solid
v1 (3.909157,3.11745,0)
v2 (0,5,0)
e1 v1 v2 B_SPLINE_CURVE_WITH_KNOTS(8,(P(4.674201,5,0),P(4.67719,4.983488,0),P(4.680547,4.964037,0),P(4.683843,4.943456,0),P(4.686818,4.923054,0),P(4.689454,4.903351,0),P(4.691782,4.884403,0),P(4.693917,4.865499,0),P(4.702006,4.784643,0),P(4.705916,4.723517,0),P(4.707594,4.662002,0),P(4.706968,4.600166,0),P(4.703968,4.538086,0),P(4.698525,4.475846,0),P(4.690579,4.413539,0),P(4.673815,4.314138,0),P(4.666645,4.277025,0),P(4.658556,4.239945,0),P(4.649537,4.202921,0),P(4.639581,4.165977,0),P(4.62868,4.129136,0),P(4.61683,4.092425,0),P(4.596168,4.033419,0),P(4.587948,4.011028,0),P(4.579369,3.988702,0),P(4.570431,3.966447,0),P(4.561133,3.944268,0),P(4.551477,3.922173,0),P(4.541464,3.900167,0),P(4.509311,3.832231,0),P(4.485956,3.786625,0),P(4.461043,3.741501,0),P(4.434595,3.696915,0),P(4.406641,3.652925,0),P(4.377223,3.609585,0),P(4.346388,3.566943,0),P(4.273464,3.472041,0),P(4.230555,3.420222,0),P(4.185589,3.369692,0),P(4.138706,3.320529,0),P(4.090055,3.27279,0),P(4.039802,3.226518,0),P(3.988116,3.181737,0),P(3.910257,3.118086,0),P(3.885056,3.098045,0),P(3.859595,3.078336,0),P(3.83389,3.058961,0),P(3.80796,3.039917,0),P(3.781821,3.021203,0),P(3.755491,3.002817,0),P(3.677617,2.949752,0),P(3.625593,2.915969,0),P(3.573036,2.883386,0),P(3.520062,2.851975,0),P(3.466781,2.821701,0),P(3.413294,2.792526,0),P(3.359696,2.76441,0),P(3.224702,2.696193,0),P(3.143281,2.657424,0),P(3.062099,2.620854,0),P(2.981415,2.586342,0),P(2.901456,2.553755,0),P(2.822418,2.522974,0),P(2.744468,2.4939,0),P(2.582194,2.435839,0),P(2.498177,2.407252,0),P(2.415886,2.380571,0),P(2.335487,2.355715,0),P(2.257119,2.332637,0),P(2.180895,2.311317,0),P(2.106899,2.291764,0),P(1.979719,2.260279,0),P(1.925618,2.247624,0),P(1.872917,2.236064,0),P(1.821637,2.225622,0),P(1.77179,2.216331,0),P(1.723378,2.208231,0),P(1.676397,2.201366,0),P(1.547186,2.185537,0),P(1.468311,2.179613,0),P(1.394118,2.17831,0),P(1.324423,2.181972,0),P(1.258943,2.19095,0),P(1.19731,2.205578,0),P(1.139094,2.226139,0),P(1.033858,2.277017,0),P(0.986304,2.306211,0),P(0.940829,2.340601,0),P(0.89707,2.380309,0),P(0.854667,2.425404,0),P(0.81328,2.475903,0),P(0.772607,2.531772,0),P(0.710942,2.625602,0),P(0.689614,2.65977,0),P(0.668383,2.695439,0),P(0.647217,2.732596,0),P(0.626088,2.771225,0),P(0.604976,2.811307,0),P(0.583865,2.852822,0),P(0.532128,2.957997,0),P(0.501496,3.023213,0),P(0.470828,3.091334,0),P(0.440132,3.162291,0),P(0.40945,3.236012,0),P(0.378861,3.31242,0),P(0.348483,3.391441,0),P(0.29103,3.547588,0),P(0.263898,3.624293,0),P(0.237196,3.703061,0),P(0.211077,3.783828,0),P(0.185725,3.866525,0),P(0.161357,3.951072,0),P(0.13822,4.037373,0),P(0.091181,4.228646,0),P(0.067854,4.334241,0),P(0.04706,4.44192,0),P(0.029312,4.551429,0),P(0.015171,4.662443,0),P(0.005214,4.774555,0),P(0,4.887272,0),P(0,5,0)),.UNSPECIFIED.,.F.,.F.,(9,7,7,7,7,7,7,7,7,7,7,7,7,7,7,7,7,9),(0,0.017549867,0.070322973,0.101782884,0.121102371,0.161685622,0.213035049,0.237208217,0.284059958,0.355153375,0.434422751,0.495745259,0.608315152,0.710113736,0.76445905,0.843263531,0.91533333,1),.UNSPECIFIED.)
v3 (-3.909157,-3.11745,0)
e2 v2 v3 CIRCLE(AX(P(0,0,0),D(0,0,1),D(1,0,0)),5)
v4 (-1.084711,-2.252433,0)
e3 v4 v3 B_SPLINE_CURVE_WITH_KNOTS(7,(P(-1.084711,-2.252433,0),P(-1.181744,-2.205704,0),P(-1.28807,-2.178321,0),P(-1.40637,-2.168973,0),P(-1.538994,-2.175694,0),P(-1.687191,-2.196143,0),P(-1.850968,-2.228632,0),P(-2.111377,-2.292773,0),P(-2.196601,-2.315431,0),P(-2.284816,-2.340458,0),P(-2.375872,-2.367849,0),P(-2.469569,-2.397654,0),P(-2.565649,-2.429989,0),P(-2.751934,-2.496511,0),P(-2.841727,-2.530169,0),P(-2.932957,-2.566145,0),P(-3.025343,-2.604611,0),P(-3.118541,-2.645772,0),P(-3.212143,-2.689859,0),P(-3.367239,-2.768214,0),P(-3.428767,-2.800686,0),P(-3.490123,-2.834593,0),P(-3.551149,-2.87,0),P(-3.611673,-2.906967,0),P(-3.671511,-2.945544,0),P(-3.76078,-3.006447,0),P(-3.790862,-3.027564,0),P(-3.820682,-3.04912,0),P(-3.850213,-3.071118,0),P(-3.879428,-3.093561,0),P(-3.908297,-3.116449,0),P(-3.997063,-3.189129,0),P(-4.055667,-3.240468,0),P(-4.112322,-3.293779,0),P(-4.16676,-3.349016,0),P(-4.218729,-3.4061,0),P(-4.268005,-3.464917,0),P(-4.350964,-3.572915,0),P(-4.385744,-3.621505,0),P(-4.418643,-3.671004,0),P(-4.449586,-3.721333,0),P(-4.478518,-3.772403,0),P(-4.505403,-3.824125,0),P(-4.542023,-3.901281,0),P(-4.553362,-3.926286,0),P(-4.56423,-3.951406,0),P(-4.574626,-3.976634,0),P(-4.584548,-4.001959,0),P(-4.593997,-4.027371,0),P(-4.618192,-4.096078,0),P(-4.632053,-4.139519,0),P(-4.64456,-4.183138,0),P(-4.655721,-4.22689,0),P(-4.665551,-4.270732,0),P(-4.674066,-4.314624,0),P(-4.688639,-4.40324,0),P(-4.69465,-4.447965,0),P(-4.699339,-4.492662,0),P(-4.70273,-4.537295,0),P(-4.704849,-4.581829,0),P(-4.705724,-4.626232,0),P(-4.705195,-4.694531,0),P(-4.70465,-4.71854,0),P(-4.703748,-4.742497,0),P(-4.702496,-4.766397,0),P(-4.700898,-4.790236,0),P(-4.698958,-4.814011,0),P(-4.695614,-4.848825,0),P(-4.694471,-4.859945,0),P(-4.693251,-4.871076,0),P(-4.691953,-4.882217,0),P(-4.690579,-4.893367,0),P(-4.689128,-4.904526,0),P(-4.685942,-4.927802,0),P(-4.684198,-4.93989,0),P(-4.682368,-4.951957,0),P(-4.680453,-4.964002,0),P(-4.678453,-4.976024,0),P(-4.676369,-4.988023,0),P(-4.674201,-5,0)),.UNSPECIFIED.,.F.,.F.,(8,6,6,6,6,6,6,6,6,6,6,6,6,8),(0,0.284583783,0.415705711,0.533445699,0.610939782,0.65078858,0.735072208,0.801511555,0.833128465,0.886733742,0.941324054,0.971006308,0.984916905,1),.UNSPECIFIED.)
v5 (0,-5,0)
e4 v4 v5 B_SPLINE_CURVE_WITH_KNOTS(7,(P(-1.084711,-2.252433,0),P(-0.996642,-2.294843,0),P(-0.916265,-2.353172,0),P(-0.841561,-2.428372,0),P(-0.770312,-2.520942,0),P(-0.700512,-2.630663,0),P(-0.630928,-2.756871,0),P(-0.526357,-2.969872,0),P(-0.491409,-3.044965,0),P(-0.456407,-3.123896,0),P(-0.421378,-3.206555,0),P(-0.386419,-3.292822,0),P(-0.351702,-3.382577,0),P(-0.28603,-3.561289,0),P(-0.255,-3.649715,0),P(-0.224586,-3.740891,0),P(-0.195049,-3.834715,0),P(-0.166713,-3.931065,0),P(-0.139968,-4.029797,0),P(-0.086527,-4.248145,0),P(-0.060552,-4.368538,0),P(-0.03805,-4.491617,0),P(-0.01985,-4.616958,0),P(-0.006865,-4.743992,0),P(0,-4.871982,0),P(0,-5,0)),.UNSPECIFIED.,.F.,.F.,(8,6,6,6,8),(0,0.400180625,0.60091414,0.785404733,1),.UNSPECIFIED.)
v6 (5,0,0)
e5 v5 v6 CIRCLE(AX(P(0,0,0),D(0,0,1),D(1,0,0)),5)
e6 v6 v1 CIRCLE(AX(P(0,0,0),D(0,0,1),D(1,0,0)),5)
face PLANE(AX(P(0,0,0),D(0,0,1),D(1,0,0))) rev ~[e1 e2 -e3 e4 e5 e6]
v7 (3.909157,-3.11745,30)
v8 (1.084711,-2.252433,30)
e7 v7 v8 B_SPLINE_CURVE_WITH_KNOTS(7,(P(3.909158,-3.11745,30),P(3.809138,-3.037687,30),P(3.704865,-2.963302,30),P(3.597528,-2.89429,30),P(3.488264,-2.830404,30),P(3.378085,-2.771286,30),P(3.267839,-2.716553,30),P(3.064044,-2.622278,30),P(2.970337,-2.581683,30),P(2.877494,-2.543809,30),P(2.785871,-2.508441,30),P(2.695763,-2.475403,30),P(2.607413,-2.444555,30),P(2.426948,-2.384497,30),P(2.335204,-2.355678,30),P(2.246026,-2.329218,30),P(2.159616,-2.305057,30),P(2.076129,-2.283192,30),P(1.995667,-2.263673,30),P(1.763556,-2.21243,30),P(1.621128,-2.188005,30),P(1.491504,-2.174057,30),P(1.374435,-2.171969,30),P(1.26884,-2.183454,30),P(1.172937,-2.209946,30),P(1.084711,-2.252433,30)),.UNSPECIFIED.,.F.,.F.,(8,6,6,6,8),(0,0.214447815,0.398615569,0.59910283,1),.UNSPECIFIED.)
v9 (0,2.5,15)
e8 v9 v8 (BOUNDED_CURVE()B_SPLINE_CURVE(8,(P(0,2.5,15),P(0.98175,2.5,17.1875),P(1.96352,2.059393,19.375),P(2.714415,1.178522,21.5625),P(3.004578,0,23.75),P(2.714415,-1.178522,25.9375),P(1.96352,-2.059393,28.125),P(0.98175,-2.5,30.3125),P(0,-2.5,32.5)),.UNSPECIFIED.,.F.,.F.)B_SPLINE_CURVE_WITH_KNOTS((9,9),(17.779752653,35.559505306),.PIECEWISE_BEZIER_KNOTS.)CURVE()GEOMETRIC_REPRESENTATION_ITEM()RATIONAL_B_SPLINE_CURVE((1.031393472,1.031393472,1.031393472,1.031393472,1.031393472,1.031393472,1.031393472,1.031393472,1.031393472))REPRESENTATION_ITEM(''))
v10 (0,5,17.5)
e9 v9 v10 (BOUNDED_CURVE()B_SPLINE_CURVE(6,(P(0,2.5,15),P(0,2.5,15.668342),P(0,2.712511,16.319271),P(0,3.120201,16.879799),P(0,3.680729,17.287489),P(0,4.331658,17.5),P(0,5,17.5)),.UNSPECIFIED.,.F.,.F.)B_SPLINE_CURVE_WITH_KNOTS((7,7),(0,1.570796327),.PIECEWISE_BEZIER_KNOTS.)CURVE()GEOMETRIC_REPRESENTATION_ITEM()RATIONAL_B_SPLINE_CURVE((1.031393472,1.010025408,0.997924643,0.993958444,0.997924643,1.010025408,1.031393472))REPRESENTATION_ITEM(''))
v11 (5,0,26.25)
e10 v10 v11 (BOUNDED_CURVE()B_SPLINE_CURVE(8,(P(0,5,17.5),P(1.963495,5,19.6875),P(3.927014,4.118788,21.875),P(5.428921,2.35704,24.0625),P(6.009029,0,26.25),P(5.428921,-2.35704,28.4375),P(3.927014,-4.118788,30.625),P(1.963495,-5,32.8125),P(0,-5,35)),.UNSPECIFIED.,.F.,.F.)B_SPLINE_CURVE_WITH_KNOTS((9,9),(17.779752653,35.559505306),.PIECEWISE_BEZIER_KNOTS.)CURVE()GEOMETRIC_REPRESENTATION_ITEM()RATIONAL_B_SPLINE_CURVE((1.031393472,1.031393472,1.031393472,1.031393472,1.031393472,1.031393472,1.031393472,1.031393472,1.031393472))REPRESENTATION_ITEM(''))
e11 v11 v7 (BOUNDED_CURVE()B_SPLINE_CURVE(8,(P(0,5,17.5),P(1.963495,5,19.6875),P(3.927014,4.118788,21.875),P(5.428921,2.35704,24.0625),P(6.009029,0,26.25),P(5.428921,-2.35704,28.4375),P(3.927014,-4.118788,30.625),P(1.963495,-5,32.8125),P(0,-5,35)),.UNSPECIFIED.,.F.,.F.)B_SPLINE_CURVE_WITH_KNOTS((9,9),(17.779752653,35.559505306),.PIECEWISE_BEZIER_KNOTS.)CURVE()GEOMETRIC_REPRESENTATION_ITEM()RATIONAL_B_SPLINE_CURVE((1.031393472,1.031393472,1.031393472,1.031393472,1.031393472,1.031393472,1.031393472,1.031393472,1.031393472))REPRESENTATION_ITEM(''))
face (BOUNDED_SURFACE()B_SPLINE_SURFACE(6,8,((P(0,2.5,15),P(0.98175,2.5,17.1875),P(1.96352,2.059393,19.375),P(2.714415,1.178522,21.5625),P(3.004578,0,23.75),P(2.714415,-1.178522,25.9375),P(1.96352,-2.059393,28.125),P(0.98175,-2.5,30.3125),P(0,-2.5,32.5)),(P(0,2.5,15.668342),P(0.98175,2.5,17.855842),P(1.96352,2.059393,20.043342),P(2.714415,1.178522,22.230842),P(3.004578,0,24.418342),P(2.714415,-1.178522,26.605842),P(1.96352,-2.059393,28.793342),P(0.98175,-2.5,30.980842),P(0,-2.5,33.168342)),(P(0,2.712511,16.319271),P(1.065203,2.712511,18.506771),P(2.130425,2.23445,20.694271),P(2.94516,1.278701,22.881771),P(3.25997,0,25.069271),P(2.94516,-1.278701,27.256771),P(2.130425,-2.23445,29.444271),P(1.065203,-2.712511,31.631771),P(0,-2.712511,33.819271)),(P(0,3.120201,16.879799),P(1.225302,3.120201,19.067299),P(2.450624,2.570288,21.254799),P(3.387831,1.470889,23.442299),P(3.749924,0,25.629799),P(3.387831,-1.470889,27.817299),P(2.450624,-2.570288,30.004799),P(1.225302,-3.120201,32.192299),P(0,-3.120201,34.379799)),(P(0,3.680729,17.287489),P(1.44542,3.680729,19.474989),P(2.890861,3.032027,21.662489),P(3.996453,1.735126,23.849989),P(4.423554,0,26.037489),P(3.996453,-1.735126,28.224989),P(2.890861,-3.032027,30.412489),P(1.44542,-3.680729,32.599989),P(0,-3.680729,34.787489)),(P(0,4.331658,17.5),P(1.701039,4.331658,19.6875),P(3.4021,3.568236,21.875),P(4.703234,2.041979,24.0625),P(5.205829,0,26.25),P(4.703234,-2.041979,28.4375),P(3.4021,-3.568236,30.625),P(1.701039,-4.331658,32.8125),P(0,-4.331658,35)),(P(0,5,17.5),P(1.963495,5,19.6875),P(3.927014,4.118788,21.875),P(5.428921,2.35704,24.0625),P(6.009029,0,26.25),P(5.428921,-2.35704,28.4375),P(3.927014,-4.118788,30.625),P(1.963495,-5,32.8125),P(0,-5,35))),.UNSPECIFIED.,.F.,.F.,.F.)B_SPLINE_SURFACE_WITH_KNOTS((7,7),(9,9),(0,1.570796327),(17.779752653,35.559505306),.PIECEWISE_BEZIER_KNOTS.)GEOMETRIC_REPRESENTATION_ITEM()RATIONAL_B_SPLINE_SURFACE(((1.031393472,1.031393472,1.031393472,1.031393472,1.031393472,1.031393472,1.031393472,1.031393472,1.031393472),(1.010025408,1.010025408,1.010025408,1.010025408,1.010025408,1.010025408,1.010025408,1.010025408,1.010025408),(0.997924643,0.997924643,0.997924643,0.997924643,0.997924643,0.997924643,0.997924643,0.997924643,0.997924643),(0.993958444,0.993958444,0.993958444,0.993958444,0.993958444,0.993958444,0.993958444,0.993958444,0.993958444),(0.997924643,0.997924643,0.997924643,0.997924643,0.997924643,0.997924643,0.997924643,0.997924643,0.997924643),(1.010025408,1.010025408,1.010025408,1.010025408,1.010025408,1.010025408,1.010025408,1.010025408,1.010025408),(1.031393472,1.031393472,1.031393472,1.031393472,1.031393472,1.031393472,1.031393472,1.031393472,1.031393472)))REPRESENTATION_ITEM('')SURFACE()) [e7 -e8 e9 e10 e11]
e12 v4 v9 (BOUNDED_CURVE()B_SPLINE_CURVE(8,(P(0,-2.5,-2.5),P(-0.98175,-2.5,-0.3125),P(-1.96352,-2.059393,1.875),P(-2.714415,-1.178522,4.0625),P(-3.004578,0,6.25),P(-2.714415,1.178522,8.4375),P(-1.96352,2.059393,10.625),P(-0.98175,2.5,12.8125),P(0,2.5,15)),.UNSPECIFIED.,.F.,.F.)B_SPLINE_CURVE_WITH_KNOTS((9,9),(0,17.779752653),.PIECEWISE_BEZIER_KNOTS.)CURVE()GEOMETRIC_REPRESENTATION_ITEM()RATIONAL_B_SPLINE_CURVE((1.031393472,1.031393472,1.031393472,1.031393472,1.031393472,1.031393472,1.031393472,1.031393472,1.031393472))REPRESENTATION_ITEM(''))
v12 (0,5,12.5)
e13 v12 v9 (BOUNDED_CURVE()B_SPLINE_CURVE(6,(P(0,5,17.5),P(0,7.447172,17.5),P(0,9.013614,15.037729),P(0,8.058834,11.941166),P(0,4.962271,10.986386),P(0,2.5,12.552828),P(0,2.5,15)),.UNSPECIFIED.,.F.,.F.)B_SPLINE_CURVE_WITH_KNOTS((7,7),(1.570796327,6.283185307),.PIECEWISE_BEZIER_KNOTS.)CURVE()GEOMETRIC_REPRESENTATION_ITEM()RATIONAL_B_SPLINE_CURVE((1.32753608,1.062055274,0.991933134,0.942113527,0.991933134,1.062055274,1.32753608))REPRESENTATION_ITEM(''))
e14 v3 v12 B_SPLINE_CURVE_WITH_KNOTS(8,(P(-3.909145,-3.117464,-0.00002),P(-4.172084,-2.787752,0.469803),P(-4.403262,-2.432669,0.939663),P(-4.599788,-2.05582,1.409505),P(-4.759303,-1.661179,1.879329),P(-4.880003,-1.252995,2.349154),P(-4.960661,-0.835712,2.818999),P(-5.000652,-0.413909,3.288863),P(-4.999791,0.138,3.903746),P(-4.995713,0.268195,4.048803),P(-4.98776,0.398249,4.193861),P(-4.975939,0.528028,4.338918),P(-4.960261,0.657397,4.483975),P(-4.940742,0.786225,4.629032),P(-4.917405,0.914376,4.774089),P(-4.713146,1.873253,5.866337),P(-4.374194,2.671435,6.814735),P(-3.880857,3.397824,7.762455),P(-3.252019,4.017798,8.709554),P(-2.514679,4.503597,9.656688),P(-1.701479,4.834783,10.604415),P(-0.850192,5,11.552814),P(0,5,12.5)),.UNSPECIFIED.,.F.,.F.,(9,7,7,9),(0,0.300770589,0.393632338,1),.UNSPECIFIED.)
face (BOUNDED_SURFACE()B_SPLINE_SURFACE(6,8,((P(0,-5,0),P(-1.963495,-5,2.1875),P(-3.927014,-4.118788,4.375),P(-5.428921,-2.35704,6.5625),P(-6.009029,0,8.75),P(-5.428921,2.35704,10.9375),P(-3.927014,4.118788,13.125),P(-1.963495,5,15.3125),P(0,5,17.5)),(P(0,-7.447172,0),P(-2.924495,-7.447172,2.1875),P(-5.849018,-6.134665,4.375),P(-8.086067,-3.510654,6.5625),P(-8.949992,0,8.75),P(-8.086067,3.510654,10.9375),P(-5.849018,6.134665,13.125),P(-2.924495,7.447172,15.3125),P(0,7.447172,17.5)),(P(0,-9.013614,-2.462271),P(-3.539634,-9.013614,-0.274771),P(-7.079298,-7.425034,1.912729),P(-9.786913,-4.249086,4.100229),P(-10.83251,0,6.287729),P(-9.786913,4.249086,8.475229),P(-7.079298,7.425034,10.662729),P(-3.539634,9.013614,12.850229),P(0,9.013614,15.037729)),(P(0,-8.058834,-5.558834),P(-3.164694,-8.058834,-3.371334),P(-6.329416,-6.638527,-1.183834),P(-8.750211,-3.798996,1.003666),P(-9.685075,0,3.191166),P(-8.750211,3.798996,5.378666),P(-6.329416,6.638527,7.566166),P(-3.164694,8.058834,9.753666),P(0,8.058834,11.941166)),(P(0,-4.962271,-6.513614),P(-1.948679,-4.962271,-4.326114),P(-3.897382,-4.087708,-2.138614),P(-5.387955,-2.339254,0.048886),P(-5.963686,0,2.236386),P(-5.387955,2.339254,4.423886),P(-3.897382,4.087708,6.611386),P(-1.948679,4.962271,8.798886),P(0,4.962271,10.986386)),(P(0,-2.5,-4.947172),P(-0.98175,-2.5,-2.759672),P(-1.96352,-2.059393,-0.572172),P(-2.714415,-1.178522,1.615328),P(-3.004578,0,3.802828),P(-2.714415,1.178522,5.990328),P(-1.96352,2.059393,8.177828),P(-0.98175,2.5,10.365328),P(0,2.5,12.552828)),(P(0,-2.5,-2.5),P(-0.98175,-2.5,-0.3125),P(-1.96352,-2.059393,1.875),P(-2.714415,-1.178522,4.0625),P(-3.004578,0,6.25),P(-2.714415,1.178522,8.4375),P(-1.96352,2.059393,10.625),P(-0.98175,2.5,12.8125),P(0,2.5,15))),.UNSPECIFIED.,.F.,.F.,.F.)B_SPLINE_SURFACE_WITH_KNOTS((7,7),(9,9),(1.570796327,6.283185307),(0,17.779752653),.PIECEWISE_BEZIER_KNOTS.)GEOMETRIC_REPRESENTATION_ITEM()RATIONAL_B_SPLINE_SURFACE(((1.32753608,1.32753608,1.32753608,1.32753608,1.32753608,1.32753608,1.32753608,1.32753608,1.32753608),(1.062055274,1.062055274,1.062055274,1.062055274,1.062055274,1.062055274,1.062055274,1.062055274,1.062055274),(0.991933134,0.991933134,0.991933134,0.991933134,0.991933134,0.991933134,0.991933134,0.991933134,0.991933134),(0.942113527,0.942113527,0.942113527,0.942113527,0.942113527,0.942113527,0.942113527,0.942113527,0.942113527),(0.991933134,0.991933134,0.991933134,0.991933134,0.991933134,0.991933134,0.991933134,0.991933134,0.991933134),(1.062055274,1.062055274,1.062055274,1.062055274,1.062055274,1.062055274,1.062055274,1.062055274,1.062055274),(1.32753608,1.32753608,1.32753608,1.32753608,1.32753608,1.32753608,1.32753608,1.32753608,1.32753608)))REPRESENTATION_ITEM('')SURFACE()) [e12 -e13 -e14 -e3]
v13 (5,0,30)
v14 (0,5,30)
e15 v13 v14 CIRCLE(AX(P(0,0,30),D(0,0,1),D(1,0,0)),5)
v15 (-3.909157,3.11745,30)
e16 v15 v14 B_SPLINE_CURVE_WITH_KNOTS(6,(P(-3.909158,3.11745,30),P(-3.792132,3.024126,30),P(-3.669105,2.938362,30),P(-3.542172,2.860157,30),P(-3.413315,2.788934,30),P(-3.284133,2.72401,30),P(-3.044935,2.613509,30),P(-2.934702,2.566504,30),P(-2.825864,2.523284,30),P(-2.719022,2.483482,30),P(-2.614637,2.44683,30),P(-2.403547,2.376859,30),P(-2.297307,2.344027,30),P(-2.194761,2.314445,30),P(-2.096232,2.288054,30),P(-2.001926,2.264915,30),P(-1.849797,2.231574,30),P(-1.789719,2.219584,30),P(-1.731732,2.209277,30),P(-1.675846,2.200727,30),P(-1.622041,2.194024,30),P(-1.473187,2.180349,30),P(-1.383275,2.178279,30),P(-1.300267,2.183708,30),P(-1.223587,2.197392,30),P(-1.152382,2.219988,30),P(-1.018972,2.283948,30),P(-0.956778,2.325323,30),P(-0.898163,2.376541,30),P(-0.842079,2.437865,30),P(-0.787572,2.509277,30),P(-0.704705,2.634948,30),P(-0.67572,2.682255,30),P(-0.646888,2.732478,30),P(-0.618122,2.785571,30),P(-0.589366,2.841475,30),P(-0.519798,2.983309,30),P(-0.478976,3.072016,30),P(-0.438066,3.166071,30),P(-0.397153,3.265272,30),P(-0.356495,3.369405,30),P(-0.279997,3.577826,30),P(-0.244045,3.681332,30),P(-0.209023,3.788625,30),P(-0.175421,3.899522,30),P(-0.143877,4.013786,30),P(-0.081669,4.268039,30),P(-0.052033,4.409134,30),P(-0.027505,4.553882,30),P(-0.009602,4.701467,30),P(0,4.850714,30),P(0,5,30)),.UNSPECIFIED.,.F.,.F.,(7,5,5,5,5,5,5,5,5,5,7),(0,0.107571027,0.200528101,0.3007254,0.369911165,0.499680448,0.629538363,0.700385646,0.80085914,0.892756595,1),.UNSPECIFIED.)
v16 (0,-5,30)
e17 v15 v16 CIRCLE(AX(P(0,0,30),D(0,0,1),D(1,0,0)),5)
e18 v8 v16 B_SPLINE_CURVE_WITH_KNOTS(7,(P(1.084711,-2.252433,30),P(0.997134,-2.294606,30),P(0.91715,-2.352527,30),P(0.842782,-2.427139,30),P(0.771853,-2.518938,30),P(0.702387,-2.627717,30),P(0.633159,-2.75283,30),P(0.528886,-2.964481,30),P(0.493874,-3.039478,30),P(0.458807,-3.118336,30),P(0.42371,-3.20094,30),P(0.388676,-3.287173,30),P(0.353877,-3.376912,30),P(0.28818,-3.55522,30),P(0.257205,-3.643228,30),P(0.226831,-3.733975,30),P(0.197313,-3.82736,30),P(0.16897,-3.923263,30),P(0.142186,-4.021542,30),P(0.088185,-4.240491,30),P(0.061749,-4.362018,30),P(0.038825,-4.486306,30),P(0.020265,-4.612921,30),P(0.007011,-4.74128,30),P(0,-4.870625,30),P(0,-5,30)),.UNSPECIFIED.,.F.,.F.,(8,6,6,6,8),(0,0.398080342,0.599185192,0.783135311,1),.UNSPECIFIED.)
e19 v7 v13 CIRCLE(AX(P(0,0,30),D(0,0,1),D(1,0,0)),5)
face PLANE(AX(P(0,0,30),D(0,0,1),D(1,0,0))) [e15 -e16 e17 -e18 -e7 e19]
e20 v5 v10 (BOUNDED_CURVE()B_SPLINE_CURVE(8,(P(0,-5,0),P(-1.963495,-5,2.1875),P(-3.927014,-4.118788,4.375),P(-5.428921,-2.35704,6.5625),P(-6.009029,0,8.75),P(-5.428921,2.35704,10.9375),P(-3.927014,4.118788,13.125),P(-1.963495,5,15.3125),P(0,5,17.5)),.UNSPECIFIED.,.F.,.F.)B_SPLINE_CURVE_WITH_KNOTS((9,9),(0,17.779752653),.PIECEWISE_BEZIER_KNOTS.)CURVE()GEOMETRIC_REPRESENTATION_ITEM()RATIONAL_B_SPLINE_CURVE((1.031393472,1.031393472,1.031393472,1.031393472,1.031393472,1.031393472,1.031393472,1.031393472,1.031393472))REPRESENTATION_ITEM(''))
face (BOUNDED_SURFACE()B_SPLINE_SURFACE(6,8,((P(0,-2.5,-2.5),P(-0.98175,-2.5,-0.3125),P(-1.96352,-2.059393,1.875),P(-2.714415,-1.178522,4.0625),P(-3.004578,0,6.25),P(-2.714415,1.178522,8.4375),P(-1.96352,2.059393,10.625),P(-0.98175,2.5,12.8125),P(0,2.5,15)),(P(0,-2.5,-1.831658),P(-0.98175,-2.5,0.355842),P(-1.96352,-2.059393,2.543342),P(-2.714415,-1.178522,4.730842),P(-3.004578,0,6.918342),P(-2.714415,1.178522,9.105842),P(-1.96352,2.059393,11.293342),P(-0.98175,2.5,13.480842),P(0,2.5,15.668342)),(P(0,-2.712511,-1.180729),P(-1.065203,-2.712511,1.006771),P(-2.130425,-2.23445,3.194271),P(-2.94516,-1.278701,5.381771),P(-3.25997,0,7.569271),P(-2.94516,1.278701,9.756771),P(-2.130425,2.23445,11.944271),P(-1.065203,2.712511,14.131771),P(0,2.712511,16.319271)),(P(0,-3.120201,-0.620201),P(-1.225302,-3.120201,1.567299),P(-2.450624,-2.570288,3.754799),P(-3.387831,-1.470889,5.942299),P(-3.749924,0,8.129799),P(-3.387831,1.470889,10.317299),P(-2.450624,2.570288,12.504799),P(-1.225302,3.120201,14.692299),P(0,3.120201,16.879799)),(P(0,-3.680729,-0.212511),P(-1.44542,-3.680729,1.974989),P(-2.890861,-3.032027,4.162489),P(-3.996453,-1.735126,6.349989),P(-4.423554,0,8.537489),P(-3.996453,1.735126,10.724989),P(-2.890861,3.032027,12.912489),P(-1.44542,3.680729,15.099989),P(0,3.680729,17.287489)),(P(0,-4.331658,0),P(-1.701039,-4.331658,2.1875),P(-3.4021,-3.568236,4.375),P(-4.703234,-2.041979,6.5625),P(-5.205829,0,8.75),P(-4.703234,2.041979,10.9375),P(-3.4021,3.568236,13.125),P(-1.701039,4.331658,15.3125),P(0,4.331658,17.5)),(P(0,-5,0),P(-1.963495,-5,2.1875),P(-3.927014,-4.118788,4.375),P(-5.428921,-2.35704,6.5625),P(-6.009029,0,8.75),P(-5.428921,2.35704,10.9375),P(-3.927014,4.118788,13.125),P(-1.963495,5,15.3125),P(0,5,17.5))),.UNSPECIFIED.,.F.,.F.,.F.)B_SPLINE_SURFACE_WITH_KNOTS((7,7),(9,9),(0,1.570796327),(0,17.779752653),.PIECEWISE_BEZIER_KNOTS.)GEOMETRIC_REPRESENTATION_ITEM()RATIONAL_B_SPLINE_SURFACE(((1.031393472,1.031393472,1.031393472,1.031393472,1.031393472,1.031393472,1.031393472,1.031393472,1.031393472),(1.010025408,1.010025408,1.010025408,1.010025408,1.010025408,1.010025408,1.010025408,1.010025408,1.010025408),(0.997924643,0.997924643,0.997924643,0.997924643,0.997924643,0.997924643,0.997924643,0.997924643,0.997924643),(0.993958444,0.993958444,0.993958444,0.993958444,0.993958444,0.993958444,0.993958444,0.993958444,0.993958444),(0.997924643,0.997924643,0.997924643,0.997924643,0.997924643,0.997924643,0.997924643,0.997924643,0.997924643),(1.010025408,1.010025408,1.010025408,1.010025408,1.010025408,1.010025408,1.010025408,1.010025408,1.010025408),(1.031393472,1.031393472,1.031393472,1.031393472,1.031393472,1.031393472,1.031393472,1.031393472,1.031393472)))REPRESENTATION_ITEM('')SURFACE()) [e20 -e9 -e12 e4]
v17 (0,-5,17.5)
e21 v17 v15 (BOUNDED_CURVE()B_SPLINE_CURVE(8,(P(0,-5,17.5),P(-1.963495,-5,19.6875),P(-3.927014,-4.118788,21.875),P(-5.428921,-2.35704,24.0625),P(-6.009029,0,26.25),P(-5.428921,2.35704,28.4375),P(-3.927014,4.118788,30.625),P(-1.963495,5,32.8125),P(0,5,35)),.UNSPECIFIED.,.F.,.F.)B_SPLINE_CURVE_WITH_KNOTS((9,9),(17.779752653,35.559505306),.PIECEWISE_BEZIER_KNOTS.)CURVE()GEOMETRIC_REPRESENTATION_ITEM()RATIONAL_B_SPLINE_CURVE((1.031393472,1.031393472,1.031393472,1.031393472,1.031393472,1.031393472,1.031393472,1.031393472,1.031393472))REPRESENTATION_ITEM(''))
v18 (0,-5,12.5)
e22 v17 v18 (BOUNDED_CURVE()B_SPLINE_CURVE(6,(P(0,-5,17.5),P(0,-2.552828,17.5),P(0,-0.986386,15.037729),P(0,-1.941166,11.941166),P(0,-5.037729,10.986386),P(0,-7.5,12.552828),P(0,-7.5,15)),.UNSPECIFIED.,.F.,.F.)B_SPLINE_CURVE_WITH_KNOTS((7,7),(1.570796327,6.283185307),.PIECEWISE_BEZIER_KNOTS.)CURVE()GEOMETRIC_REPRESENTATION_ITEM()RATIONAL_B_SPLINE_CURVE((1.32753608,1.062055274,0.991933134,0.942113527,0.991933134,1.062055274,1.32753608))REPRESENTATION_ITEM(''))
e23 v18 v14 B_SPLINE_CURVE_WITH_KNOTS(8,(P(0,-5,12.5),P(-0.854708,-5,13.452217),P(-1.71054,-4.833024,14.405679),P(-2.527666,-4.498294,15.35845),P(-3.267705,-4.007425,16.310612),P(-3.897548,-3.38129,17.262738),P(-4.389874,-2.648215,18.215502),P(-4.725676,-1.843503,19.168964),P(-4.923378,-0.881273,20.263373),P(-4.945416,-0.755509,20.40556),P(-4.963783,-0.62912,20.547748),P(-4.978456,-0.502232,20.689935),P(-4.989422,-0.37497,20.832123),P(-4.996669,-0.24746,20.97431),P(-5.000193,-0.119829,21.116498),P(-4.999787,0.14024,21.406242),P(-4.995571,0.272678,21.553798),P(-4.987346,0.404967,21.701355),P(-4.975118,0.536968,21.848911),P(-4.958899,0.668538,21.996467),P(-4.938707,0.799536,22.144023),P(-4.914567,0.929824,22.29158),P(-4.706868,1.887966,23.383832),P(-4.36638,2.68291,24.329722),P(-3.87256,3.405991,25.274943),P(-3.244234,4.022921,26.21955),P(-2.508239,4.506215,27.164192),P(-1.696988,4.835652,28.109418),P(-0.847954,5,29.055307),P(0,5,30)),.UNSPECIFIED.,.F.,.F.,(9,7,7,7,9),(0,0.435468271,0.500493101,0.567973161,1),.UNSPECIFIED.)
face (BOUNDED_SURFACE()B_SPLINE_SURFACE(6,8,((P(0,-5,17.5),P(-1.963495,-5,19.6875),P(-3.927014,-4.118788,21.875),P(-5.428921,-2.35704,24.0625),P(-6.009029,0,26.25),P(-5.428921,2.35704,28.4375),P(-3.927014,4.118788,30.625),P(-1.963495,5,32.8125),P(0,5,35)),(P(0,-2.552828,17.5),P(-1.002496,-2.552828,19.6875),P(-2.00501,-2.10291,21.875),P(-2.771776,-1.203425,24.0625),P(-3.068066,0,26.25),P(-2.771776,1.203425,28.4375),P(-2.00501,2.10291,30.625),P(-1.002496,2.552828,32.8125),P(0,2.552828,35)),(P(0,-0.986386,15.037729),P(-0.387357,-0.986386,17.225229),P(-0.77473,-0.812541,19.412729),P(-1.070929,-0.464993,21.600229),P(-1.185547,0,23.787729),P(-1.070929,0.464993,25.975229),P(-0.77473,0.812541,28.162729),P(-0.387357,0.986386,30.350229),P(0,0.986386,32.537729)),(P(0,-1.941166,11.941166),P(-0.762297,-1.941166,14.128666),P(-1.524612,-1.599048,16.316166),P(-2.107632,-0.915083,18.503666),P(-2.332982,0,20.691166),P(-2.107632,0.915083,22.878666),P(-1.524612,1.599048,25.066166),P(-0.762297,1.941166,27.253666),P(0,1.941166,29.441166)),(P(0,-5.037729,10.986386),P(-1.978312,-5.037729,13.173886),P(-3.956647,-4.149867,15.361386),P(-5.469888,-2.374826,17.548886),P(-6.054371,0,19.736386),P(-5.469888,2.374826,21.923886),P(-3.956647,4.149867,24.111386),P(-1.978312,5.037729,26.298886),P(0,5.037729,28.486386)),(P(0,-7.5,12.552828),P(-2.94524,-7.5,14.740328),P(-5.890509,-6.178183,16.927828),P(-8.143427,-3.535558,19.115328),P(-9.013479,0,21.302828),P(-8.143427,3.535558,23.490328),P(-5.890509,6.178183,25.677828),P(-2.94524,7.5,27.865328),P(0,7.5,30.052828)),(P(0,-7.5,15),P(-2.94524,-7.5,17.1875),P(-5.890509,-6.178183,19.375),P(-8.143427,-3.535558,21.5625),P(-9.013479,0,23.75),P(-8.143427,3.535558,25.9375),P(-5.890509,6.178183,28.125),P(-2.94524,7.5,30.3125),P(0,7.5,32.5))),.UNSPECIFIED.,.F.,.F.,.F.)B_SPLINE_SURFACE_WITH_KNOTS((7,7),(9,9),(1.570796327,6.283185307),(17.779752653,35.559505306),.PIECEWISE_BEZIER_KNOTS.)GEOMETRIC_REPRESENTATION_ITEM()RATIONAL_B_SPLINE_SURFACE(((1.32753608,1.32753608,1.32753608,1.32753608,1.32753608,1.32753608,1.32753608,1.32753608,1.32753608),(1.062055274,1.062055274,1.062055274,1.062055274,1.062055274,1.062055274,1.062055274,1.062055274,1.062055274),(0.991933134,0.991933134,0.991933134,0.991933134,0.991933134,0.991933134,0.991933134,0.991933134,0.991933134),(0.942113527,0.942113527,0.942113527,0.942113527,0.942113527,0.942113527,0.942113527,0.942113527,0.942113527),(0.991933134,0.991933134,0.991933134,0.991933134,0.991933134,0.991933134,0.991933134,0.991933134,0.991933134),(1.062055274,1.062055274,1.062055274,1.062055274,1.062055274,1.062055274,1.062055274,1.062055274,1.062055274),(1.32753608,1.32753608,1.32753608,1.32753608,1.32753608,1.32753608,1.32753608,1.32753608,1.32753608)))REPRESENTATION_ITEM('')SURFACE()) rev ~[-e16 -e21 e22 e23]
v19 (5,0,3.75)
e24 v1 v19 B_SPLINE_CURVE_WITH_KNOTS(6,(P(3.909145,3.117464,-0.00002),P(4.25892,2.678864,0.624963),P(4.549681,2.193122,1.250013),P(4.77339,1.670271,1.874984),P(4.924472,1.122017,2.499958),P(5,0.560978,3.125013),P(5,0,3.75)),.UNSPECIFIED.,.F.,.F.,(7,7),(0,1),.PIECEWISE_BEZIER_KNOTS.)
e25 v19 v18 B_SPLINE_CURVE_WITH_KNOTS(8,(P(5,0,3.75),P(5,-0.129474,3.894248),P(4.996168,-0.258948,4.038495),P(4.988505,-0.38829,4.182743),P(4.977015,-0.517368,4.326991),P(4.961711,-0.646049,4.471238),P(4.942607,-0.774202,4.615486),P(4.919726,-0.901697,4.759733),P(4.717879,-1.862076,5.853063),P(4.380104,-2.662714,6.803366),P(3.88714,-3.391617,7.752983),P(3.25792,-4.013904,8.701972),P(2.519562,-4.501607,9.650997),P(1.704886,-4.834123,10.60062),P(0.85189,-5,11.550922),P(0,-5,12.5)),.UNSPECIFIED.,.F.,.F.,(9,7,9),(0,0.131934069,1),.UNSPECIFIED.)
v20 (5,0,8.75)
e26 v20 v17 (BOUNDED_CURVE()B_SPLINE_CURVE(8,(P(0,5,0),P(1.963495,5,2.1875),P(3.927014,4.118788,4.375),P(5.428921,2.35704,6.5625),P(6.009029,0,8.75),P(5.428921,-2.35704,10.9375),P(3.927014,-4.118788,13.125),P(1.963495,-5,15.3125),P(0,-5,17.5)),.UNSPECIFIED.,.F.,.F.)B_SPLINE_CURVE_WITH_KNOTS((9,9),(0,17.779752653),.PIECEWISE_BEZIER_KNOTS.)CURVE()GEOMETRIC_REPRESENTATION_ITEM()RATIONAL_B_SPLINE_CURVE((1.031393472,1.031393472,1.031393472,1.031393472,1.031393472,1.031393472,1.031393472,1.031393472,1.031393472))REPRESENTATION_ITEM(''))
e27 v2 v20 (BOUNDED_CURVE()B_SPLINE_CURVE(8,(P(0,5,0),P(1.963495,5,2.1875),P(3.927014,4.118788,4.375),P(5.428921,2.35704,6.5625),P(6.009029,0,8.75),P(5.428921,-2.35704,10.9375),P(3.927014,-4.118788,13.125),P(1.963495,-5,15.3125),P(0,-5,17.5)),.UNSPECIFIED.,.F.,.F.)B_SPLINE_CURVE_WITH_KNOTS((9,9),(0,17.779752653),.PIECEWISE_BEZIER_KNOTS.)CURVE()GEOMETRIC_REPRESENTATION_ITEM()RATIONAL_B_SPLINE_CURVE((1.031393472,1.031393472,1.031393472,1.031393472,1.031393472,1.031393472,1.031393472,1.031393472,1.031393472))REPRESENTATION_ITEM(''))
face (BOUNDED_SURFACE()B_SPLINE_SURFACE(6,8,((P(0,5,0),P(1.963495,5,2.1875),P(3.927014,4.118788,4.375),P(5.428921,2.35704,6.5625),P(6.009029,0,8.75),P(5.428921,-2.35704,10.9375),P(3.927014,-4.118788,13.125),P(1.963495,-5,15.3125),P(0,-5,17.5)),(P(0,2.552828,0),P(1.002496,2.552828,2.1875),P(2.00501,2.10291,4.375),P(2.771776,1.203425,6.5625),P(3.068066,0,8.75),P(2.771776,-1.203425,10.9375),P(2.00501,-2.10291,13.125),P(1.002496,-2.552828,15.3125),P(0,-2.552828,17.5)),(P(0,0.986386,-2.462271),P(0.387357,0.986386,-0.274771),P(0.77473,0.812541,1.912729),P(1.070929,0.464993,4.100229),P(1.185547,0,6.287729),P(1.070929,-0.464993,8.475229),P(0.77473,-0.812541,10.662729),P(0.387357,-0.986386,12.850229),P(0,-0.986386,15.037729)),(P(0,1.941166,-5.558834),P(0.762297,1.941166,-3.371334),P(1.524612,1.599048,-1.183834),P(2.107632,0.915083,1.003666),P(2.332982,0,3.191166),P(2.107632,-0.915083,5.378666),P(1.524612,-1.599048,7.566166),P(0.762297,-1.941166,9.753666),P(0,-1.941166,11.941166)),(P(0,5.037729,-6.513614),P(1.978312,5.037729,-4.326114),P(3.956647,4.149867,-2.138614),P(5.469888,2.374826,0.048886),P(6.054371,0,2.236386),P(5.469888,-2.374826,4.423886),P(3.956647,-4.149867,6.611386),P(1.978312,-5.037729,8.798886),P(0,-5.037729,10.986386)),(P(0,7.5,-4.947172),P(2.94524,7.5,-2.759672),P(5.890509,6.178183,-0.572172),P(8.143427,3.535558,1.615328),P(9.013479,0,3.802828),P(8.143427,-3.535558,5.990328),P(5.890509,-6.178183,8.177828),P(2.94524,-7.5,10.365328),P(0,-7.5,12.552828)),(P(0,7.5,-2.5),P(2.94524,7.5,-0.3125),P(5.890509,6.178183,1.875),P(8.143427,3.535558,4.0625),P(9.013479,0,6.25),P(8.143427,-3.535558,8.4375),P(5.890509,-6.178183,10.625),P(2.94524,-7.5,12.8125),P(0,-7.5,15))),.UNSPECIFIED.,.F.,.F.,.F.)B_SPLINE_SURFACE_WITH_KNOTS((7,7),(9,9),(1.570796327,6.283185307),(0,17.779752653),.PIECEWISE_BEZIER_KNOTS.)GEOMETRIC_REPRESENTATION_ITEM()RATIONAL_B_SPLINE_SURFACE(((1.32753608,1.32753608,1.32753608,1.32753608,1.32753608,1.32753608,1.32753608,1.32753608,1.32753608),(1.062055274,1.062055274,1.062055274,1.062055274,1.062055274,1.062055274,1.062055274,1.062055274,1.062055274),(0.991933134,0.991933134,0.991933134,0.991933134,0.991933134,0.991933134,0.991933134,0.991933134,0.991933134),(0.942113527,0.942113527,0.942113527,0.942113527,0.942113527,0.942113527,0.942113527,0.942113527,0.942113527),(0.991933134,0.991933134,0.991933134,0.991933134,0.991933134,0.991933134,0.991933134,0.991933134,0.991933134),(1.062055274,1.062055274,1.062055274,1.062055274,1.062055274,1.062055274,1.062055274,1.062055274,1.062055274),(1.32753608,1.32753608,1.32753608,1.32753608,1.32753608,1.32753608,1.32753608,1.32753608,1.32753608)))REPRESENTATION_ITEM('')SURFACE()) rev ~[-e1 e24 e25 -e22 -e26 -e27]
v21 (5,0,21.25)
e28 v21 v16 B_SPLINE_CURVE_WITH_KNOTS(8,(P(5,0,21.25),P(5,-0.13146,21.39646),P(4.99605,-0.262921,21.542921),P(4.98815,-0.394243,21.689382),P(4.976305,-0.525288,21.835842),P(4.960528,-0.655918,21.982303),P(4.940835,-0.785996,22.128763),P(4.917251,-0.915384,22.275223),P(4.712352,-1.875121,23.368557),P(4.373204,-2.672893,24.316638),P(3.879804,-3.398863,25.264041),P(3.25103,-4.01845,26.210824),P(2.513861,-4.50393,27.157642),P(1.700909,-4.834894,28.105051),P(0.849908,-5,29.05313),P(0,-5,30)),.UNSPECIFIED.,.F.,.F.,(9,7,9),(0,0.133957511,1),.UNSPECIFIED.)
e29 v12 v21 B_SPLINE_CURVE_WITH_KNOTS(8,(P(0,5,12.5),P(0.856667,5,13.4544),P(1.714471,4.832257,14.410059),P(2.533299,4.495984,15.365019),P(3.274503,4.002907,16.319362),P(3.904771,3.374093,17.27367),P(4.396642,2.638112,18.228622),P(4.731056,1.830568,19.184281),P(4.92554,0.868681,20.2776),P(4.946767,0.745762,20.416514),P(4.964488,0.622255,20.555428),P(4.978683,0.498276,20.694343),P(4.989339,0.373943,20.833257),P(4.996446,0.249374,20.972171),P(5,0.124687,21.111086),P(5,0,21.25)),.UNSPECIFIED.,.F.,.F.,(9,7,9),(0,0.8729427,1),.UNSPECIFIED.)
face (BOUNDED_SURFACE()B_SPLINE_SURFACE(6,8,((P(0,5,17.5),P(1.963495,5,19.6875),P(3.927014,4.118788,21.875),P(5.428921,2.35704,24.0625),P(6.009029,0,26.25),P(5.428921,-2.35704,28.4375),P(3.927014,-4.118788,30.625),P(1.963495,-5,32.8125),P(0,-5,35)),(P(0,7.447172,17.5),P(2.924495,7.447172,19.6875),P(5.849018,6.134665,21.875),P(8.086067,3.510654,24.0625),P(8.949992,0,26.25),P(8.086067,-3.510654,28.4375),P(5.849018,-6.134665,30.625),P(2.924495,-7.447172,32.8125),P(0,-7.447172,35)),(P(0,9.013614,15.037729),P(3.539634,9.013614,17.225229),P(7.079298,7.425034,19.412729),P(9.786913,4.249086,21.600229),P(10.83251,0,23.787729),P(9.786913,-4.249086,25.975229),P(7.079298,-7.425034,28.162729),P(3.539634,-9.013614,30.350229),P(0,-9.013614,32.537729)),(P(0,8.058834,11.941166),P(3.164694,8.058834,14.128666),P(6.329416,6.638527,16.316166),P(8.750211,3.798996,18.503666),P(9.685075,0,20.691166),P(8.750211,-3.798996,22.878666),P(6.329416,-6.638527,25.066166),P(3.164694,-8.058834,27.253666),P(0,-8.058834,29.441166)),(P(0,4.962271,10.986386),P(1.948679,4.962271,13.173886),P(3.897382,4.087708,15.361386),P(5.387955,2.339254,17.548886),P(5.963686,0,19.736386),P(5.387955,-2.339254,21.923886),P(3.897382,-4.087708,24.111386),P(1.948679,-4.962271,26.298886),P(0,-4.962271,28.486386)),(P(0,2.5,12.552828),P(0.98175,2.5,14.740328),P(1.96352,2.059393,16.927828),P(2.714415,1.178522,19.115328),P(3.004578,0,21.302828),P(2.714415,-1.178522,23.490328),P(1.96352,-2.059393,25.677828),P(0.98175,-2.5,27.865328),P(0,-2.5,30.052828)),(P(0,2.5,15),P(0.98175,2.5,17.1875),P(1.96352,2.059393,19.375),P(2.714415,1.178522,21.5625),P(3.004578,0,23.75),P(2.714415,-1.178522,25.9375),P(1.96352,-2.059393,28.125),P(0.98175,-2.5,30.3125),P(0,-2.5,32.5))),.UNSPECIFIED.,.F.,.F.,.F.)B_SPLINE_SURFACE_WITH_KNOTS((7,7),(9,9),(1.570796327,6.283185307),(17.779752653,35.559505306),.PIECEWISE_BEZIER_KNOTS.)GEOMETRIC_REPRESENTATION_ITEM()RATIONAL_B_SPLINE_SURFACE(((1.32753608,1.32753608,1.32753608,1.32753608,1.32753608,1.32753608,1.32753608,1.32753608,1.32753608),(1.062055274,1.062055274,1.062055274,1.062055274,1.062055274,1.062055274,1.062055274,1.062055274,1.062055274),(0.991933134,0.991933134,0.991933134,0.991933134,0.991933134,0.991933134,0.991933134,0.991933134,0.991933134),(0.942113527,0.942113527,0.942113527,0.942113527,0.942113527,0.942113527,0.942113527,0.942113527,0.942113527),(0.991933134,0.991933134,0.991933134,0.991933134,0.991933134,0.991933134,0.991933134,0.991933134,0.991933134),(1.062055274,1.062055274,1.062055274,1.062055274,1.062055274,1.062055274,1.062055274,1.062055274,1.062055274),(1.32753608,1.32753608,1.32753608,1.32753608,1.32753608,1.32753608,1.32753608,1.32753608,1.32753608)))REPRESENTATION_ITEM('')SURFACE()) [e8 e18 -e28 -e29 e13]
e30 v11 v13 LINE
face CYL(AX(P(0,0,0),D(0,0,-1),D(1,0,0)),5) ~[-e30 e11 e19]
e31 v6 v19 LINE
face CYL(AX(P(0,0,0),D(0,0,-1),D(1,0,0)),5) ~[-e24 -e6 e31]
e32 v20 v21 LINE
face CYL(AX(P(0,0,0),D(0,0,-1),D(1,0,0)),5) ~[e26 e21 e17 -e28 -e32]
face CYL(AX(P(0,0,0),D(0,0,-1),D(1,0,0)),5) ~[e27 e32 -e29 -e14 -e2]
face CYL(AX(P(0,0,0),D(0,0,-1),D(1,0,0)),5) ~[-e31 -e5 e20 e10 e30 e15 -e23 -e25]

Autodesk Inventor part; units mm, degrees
ref_plane "YZ Plane" through (0, 0, 0) normal (1, 0, 0) x (0, 1, 0)
ref_plane "XZ Plane" through (0, 0, 0) normal (0, 1, 0) x (-1, 0, 0)
ref_plane "XY Plane" through (0, 0, 0) normal (0, 0, 1) x (1, 0, 0)
sketch "Sketch1" plane through (0, 0, 0) normal (0, 0, 1) x (1, 0, 0)
  circle A0 centre (0, 0) radius 5
  dimension "d0" = 10
extrude "Extrusion1" add sketch "Sketch1" along normal blind 30
sketch "Sketch2" plane through (0, 0, 0) normal (1, 0, 0) x (0, 1, 0)
  line L0 (-5, 0) -> (5, 0) projected
  line L1 (5, 0) -> (5, -2.5)
  circle A0 centre (5, -2.5) radius 2.5
  line L2 (-5, 0) -> (-5, -2.5)
  circle A1 centre (-5, -2.5) radius 2.5
  point P0 (0, 0)
  dimension "d3" = 2.5
  dimension "d4" = 5
  dimension "d5" = 2.5
  dimension "d6" = 5
coil "Coil1" sketch "Sketch2" operation cut axis through (0, 0, -10) along (0, 0, 1) pitch 35 turns 1 hand left contours A0
coil "Coil2" sketch "Sketch2" operation cut axis through (0, 0, -10) along (0, 0, 1) pitch 35 turns 1 hand left contours A1
properties part number "screw"
